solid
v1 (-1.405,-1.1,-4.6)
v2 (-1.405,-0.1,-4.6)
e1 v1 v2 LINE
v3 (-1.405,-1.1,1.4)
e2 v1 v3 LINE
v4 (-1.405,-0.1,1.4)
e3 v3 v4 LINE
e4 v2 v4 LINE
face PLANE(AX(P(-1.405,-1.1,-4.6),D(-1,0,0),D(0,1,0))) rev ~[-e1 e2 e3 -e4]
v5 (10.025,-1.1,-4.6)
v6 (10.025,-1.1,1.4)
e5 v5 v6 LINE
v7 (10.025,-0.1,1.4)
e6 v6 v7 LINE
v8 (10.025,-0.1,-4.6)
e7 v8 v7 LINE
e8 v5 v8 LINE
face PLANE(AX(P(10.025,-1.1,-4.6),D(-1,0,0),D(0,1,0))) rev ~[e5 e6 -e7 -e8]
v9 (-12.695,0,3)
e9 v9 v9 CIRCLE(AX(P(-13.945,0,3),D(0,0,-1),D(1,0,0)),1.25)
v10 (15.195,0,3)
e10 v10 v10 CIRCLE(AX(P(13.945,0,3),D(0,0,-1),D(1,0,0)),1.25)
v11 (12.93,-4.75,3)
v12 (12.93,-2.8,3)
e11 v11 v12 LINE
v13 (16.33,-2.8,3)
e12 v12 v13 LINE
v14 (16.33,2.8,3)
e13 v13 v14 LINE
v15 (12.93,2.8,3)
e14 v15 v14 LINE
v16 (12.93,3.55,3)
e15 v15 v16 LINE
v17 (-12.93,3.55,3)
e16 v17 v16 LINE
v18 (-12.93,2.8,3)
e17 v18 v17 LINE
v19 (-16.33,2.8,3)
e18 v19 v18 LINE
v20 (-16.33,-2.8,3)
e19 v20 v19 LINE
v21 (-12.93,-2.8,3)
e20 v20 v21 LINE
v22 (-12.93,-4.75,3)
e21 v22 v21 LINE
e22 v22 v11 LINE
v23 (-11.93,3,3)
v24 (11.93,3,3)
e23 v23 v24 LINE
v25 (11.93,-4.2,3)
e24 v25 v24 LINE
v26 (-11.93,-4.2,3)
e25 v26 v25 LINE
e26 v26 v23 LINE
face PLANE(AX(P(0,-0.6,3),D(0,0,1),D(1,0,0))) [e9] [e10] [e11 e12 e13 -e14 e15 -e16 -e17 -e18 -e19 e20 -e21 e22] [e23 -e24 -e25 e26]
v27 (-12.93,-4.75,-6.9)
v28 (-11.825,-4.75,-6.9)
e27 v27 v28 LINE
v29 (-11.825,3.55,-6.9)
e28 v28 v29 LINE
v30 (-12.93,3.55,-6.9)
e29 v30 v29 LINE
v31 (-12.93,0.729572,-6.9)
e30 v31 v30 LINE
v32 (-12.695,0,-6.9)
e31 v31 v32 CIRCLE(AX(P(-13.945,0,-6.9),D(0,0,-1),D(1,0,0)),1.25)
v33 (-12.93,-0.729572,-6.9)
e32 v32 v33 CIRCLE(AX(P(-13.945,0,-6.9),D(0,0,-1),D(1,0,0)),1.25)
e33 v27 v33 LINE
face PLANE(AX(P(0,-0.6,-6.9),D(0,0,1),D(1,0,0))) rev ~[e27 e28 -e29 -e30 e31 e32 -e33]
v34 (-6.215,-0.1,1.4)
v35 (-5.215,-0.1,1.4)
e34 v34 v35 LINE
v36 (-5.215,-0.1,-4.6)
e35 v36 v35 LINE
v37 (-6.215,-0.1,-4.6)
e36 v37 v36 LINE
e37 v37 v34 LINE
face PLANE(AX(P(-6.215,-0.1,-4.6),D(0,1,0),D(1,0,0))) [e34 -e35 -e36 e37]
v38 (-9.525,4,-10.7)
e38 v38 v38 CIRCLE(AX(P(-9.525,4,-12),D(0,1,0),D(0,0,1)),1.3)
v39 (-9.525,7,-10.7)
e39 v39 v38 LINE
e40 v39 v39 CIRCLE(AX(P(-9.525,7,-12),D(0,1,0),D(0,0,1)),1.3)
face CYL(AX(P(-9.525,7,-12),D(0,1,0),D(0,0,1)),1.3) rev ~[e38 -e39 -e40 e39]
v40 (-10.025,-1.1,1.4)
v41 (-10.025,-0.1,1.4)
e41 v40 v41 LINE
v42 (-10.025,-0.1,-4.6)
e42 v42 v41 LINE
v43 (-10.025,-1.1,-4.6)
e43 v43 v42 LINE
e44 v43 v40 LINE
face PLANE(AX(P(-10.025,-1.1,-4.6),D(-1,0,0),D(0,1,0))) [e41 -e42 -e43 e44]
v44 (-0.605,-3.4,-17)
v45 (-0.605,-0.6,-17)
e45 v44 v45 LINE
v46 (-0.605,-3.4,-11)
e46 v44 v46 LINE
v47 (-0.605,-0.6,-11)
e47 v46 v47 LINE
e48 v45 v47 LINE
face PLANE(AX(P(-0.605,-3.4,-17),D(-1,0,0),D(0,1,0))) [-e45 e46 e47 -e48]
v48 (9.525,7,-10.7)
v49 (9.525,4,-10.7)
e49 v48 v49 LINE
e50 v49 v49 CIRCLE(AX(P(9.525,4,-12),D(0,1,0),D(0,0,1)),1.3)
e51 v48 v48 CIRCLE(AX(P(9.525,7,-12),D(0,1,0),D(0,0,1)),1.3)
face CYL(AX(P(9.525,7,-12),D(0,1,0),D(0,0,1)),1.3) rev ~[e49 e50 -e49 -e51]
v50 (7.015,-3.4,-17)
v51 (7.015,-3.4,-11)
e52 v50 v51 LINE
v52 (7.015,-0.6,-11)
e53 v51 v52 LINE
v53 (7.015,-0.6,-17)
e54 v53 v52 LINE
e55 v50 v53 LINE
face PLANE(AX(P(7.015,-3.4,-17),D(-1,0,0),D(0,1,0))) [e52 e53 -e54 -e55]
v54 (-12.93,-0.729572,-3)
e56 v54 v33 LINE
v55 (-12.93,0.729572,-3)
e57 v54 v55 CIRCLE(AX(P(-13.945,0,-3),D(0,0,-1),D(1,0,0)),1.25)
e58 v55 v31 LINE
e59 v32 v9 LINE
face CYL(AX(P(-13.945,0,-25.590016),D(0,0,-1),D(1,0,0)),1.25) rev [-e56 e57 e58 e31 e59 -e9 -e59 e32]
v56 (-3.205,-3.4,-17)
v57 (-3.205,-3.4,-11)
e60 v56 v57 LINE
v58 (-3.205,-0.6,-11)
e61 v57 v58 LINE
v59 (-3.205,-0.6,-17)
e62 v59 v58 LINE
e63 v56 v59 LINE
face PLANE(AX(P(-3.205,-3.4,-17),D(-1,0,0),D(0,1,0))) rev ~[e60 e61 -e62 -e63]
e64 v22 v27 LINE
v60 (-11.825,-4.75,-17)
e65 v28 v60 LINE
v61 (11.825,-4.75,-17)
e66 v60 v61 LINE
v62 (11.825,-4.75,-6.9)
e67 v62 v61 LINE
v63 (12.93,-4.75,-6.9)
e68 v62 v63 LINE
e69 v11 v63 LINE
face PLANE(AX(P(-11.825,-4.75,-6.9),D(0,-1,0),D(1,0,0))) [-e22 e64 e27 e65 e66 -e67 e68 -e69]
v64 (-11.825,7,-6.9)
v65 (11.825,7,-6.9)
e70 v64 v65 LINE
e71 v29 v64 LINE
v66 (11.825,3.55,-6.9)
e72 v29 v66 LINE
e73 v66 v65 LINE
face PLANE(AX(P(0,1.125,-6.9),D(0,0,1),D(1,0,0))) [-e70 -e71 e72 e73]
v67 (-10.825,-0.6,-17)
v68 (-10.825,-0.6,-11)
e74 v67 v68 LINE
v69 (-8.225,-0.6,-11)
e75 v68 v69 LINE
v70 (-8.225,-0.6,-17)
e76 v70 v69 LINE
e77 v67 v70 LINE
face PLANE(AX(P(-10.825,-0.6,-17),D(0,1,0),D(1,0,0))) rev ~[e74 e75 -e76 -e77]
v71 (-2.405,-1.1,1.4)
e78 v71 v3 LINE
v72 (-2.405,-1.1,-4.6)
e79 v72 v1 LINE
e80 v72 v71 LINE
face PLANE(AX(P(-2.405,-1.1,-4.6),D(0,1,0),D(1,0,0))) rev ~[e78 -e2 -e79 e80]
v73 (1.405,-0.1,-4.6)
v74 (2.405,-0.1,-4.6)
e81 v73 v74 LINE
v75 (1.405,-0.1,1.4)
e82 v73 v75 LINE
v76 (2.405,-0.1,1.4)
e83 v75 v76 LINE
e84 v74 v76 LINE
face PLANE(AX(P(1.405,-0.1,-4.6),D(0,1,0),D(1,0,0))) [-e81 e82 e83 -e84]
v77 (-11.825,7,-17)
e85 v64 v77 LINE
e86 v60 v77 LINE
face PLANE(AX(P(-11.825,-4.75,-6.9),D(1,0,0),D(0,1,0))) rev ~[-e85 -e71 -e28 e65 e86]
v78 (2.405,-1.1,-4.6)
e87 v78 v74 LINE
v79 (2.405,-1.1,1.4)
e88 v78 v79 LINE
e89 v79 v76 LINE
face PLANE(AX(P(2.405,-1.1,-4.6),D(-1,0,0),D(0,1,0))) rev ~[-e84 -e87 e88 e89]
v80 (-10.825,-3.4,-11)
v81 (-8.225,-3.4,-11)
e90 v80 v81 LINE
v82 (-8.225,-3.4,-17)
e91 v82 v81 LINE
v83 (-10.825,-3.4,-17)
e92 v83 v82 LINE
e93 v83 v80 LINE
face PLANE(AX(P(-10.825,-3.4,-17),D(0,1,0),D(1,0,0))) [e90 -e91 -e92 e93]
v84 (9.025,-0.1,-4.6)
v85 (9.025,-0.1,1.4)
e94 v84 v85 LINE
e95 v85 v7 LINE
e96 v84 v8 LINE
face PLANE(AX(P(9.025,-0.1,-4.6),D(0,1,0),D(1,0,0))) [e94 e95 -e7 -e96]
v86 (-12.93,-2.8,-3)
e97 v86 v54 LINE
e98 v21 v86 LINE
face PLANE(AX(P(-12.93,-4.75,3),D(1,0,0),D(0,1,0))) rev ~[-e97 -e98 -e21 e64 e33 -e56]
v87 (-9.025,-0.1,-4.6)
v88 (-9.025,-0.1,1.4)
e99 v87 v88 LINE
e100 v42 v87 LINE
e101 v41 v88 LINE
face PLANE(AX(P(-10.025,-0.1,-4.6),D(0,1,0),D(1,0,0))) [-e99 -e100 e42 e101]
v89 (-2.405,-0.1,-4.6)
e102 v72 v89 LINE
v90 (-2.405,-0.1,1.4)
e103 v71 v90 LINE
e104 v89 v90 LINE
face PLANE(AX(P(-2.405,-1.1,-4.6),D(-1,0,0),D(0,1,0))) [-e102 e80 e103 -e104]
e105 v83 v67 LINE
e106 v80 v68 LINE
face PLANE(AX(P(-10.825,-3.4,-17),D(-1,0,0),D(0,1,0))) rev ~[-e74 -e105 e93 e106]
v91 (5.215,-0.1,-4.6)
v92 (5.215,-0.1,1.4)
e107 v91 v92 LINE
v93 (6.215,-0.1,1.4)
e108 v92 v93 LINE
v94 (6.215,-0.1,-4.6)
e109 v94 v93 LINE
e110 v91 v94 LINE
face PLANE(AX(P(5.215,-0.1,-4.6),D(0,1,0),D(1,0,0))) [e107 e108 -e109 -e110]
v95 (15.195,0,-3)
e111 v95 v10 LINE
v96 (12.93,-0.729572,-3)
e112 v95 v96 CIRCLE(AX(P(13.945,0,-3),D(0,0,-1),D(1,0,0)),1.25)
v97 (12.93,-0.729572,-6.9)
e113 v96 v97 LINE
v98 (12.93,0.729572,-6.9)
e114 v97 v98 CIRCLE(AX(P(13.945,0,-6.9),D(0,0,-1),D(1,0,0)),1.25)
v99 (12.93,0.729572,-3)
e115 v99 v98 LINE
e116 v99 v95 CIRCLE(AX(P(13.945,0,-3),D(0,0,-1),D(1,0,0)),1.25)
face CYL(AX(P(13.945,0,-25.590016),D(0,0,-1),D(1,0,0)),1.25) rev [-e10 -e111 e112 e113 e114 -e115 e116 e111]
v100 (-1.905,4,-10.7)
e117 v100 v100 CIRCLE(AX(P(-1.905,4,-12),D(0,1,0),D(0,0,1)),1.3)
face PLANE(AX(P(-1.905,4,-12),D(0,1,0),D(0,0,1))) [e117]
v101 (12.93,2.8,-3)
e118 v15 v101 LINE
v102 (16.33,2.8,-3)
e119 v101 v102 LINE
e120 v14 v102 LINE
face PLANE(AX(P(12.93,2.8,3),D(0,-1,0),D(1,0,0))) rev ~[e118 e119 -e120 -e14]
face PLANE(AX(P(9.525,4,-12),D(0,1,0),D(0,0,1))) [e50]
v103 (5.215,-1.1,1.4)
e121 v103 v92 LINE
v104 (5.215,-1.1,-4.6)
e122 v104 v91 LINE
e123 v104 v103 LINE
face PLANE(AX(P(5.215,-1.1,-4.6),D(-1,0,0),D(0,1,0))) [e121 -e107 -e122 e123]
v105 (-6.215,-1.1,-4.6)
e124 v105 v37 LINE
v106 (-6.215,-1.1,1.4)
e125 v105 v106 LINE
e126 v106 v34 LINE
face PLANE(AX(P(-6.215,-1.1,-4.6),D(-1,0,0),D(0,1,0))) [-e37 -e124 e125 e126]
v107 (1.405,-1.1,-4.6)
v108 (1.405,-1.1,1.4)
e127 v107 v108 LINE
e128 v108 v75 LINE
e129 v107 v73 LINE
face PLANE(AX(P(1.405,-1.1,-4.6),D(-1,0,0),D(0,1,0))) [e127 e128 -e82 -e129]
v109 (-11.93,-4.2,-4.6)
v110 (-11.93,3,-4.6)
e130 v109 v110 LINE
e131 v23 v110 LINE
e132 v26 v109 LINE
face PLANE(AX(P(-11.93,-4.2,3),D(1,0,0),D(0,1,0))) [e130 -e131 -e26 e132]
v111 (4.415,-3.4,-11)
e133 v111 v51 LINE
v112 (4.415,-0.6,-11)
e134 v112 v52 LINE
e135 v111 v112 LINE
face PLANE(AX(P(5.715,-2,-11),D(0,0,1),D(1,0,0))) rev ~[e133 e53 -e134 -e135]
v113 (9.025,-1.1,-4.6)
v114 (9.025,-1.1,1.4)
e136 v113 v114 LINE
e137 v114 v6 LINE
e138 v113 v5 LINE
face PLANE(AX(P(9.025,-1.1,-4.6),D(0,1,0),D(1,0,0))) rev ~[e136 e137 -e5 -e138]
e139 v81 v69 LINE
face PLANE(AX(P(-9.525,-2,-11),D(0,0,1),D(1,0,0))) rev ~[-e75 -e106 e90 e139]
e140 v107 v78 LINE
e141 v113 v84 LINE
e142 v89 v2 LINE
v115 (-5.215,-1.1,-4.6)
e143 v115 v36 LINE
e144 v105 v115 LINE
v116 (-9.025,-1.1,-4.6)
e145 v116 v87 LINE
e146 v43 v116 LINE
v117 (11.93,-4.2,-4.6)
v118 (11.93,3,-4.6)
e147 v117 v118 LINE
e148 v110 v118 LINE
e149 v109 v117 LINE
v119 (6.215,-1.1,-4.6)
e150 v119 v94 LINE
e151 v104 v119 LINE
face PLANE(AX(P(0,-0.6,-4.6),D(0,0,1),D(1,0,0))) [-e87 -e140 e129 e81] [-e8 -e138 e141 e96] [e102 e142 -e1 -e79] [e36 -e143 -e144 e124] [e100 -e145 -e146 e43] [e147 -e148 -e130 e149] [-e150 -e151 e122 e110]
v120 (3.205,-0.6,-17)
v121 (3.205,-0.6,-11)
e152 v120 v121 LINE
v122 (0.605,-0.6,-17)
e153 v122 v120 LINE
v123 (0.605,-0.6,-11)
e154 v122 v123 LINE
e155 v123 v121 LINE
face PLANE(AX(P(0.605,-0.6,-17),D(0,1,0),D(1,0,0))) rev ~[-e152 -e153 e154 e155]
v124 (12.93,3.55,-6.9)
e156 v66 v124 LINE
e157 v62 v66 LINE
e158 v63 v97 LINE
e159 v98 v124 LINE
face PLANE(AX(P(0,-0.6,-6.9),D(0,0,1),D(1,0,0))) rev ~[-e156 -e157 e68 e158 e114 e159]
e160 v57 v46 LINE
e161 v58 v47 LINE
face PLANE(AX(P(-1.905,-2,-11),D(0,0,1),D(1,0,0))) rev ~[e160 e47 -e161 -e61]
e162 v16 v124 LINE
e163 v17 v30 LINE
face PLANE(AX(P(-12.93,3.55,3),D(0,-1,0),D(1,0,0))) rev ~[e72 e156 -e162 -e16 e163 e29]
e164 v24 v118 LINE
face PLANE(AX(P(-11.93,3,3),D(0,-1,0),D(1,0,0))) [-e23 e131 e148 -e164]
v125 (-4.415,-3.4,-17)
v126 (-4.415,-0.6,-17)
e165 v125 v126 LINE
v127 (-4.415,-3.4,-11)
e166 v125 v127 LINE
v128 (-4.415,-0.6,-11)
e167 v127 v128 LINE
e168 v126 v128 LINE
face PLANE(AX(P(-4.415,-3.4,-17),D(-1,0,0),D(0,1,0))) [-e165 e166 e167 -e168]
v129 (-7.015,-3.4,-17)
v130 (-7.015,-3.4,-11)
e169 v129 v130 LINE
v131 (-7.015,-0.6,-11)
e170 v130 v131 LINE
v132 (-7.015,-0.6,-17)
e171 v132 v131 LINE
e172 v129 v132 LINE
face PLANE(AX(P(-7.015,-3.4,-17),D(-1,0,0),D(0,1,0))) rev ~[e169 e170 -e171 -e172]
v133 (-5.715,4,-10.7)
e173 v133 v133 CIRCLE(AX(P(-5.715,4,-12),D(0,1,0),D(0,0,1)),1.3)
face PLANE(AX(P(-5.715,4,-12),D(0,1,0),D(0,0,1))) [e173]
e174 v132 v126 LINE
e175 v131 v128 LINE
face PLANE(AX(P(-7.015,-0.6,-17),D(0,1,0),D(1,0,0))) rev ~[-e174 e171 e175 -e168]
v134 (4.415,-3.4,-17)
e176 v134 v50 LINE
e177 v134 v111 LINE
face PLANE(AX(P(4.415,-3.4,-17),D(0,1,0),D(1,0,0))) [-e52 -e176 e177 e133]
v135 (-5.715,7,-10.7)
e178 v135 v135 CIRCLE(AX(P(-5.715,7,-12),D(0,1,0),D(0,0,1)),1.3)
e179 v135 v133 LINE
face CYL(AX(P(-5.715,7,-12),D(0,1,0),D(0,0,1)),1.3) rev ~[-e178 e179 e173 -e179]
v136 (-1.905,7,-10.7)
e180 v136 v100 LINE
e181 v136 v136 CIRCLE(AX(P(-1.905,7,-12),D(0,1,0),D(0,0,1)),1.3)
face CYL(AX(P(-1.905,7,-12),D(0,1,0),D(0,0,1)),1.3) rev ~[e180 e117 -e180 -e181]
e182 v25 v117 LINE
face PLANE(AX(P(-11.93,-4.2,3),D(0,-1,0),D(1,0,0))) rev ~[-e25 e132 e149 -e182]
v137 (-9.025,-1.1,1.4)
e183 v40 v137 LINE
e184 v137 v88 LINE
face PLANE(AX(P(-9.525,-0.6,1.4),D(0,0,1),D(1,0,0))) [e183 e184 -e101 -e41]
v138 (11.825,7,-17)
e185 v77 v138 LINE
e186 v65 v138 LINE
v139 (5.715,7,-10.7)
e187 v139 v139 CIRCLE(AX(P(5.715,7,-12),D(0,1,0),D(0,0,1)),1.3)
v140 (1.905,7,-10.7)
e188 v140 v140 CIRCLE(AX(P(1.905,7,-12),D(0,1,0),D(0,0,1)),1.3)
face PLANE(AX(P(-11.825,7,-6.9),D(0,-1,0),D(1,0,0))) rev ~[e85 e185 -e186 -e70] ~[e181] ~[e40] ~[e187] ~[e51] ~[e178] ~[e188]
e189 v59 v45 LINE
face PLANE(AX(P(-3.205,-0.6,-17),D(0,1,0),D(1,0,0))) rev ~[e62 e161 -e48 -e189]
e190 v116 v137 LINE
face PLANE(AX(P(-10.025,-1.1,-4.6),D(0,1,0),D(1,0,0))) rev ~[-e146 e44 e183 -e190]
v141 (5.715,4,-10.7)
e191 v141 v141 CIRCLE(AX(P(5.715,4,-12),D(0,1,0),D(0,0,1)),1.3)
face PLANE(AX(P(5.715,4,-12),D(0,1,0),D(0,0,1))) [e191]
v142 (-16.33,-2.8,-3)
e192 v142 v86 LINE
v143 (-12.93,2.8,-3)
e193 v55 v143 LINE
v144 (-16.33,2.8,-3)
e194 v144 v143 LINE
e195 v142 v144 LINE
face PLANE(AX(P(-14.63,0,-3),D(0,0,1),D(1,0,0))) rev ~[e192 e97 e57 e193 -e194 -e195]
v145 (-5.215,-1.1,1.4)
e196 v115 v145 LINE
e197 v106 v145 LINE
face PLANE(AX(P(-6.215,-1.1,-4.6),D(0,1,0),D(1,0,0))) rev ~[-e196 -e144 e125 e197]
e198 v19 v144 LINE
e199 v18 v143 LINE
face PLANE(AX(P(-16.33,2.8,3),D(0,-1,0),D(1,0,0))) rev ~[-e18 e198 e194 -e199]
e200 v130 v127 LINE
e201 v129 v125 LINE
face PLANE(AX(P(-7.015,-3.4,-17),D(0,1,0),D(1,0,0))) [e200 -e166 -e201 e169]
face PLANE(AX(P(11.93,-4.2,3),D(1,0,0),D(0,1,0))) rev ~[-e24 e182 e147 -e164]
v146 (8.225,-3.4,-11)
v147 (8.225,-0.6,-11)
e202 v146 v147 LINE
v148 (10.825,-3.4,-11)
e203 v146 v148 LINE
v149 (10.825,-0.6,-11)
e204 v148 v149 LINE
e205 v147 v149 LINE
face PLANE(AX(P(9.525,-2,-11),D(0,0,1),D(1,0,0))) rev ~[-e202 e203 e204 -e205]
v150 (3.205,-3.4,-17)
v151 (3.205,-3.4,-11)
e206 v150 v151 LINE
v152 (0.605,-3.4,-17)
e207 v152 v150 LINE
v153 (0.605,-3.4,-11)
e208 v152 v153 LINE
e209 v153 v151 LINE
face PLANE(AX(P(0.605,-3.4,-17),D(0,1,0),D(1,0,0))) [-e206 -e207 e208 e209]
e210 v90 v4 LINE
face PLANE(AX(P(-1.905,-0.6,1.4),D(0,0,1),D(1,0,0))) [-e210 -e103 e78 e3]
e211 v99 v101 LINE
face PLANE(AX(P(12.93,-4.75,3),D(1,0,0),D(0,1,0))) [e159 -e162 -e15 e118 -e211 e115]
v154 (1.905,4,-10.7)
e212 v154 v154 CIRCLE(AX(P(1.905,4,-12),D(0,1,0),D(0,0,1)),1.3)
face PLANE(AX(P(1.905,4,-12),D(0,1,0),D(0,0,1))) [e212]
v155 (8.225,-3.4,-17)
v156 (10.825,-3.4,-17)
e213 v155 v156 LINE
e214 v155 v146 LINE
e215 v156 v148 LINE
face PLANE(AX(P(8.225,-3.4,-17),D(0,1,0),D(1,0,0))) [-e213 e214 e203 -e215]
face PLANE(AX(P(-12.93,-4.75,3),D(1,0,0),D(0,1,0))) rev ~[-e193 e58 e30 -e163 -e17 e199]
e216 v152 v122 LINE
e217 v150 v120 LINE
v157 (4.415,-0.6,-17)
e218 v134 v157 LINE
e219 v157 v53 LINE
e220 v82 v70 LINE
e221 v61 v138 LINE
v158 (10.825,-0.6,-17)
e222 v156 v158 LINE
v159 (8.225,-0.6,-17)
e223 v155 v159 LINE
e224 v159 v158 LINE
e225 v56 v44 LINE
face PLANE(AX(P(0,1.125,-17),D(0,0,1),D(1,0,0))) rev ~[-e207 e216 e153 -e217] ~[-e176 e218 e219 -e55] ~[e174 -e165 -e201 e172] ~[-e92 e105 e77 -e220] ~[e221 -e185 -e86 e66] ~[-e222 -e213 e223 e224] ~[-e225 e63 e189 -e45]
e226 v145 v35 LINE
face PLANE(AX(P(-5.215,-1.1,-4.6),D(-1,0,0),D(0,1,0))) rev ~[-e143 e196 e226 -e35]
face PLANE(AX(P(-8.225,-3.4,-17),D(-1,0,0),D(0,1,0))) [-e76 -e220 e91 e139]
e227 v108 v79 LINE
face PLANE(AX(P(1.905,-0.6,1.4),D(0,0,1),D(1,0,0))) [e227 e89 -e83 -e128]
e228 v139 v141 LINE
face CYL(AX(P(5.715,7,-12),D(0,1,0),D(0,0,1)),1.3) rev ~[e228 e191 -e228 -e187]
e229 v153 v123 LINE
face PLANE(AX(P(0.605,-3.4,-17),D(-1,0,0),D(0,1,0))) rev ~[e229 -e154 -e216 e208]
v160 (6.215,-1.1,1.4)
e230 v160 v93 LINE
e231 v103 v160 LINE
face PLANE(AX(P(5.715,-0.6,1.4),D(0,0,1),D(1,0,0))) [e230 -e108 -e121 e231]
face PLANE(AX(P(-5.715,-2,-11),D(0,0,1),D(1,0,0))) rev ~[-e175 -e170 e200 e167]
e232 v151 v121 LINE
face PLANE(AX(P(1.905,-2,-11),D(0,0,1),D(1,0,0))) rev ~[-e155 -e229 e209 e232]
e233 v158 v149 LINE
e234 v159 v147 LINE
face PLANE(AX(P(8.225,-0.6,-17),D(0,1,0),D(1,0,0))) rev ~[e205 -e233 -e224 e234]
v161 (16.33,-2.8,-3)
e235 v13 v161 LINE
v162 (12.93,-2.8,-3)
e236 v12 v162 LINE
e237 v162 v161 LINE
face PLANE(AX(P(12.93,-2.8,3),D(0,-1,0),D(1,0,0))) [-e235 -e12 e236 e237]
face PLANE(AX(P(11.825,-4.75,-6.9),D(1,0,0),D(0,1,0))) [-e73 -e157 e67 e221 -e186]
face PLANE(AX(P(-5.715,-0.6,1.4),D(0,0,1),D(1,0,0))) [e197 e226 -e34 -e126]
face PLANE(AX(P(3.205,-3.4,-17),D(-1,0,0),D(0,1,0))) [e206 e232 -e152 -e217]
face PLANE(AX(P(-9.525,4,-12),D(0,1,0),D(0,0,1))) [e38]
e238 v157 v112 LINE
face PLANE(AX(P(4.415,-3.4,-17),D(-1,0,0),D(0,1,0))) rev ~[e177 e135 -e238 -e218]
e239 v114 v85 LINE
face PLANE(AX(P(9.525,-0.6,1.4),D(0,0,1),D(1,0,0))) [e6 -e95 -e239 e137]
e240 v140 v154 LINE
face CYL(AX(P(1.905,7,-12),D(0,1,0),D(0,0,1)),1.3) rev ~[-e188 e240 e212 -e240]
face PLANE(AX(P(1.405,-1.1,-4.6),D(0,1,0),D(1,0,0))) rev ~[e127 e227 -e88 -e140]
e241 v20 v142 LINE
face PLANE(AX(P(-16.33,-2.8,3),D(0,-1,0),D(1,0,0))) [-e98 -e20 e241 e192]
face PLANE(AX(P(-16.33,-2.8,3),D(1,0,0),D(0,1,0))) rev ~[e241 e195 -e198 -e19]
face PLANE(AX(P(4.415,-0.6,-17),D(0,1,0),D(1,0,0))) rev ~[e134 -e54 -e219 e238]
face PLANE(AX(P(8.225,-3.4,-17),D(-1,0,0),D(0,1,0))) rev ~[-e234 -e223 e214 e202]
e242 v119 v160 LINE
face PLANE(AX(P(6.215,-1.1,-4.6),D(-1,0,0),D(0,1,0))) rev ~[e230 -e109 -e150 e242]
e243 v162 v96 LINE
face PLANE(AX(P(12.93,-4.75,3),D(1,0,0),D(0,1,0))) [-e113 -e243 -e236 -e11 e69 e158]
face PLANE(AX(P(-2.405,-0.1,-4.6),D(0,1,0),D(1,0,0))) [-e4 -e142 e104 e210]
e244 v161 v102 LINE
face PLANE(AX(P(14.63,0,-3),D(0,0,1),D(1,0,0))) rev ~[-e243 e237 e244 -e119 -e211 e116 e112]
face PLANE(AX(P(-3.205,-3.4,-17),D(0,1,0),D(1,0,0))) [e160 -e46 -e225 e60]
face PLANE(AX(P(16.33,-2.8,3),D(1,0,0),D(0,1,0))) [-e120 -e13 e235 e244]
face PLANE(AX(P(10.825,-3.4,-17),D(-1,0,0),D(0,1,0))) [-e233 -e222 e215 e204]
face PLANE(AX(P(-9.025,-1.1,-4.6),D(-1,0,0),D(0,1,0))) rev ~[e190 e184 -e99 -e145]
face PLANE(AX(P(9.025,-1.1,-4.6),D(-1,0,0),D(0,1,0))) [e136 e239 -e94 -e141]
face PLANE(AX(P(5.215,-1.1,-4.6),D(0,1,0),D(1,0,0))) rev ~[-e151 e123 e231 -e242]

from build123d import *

# Parameters (mm, degrees)
SK_SHROUD_W             = 25.86
SK_SHROUD_H             = 8.3
SHROUD_DEPTH            = 9.9
SK_FLANGE_EARS_W        = 3.4
SK_FLANGE_EARS_H        = 5.6
FLANGE_EARS_DEPTH       = 6
SK_CAVITY_W             = 23.86
SK_CAVITY_H             = 7.2
CAVITY_DEPTH            = 7.6
SK_TERMINAL_BLOCK_W     = 23.65
SK_TERMINAL_BLOCK_H     = 11.75
TERMINAL_BLOCK_DEPTH    = 10.1
INSERT_HOLES_DEPTH      = 25.590016267
INSERT_HOLES_DEPTH_BACK = 25.590016267
SK_INSERT_HOLES_R       = 1.25
SK_CONTACT_PINS_W       = 1
SK_CONTACT_PINS_H       = 1
CONTACT_PINS_DEPTH      = 6
SK_WIRE_ENTRIES_W       = 2.6
SK_WIRE_ENTRIES_H       = 2.8
WIRE_ENTRIES_DEPTH      = 6
SK_CLAMP_SCREW_HOLES_R  = 1.3
CLAMP_SCREW_HOLES_DEPTH = 3


with BuildPart() as part:
    # SK Shroud → Shroud (new body)
    with BuildSketch(Plane.XY.offset(3)):
        with Locations((0, -0.6)):
            Rectangle(SK_SHROUD_W, SK_SHROUD_H)
    extrude(amount=-SHROUD_DEPTH)

    # SK Flange ears → Flange ears (add)
    with BuildSketch(Plane.XY.offset(3)):
        with Locations((14.63, 0)):
            Rectangle(SK_FLANGE_EARS_W, SK_FLANGE_EARS_H)
        with Locations((-14.63, 0)):
            Rectangle(SK_FLANGE_EARS_W, SK_FLANGE_EARS_H)
    extrude(amount=-FLANGE_EARS_DEPTH)

    # SK Cavity → Cavity (cut)
    with BuildSketch(Plane.XY.offset(3)):
        with Locations((0, -0.6)):
            Rectangle(SK_CAVITY_W, SK_CAVITY_H)
    extrude(amount=-CAVITY_DEPTH, mode=Mode.SUBTRACT)

    # SK Terminal block → Terminal block (add)
    with BuildSketch(Plane.XY.offset(-6.9)):
        with Locations((0, 1.125)):
            Rectangle(SK_TERMINAL_BLOCK_W, SK_TERMINAL_BLOCK_H)
    extrude(amount=-TERMINAL_BLOCK_DEPTH)

    # SK Insert holes → Insert holes (cut, two sides: drawn at the far end of the back side and taken through both)
    with BuildSketch(Plane.XY.offset(-INSERT_HOLES_DEPTH_BACK)):
        with Locations((-13.945, 0)):
            Circle(SK_INSERT_HOLES_R)
        with Locations((13.945, 0)):
            Circle(SK_INSERT_HOLES_R)
    extrude(amount=INSERT_HOLES_DEPTH + INSERT_HOLES_DEPTH_BACK, mode=Mode.SUBTRACT)

    # SK Contact pins → Contact pins (add)
    with BuildSketch(Plane.XY.offset(-4.6)):
        with Locations((-9.525, -0.6)):
            Rectangle(SK_CONTACT_PINS_W, SK_CONTACT_PINS_H)
        with Locations((-5.715, -0.6)):
            Rectangle(SK_CONTACT_PINS_W, SK_CONTACT_PINS_H)
        with Locations((-1.905, -0.6)):
            Rectangle(SK_CONTACT_PINS_W, SK_CONTACT_PINS_H)
        with Locations((1.905, -0.6)):
            Rectangle(SK_CONTACT_PINS_W, SK_CONTACT_PINS_H)
        with Locations((5.715, -0.6)):
            Rectangle(SK_CONTACT_PINS_W, SK_CONTACT_PINS_H)
        with Locations((9.525, -0.6)):
            Rectangle(SK_CONTACT_PINS_W, SK_CONTACT_PINS_H)
    extrude(amount=CONTACT_PINS_DEPTH)

    # SK Wire entries → Wire entries (cut)
    with BuildSketch(Plane.XY.offset(-17)):
        with Locations((-9.525, -2)):
            Rectangle(SK_WIRE_ENTRIES_W, SK_WIRE_ENTRIES_H)
        with Locations((-5.715, -2)):
            Rectangle(SK_WIRE_ENTRIES_W, SK_WIRE_ENTRIES_H)
        with Locations((-1.905, -2)):
            Rectangle(SK_WIRE_ENTRIES_W, SK_WIRE_ENTRIES_H)
        with Locations((1.905, -2)):
            Rectangle(SK_WIRE_ENTRIES_W, SK_WIRE_ENTRIES_H)
        with Locations((5.715, -2)):
            Rectangle(SK_WIRE_ENTRIES_W, SK_WIRE_ENTRIES_H)
        with Locations((9.525, -2)):
            Rectangle(SK_WIRE_ENTRIES_W, SK_WIRE_ENTRIES_H)
    extrude(amount=WIRE_ENTRIES_DEPTH, mode=Mode.SUBTRACT)

    # SK Clamp screw holes → Clamp screw holes (cut)
    with BuildSketch(Plane(origin=(0, 7, 0), x_dir=(1, 0, 0), z_dir=(0, 1, 0))):
        with Locations(Location((-9.525, 12, 0), (0, 0, 270))):
            Circle(SK_CLAMP_SCREW_HOLES_R)
        with Locations(Location((-5.715, 12, 0), (0, 0, 270))):
            Circle(SK_CLAMP_SCREW_HOLES_R)
        with Locations(Location((-1.905, 12, 0), (0, 0, 270))):
            Circle(SK_CLAMP_SCREW_HOLES_R)
        with Locations(Location((1.905, 12, 0), (0, 0, 270))):
            Circle(SK_CLAMP_SCREW_HOLES_R)
        with Locations(Location((5.715, 12, 0), (0, 0, 270))):
            Circle(SK_CLAMP_SCREW_HOLES_R)
        with Locations(Location((9.525, 12, 0), (0, 0, 270))):
            Circle(SK_CLAMP_SCREW_HOLES_R)
    extrude(amount=-CLAMP_SCREW_HOLES_DEPTH, mode=Mode.SUBTRACT)


solid = part.part
